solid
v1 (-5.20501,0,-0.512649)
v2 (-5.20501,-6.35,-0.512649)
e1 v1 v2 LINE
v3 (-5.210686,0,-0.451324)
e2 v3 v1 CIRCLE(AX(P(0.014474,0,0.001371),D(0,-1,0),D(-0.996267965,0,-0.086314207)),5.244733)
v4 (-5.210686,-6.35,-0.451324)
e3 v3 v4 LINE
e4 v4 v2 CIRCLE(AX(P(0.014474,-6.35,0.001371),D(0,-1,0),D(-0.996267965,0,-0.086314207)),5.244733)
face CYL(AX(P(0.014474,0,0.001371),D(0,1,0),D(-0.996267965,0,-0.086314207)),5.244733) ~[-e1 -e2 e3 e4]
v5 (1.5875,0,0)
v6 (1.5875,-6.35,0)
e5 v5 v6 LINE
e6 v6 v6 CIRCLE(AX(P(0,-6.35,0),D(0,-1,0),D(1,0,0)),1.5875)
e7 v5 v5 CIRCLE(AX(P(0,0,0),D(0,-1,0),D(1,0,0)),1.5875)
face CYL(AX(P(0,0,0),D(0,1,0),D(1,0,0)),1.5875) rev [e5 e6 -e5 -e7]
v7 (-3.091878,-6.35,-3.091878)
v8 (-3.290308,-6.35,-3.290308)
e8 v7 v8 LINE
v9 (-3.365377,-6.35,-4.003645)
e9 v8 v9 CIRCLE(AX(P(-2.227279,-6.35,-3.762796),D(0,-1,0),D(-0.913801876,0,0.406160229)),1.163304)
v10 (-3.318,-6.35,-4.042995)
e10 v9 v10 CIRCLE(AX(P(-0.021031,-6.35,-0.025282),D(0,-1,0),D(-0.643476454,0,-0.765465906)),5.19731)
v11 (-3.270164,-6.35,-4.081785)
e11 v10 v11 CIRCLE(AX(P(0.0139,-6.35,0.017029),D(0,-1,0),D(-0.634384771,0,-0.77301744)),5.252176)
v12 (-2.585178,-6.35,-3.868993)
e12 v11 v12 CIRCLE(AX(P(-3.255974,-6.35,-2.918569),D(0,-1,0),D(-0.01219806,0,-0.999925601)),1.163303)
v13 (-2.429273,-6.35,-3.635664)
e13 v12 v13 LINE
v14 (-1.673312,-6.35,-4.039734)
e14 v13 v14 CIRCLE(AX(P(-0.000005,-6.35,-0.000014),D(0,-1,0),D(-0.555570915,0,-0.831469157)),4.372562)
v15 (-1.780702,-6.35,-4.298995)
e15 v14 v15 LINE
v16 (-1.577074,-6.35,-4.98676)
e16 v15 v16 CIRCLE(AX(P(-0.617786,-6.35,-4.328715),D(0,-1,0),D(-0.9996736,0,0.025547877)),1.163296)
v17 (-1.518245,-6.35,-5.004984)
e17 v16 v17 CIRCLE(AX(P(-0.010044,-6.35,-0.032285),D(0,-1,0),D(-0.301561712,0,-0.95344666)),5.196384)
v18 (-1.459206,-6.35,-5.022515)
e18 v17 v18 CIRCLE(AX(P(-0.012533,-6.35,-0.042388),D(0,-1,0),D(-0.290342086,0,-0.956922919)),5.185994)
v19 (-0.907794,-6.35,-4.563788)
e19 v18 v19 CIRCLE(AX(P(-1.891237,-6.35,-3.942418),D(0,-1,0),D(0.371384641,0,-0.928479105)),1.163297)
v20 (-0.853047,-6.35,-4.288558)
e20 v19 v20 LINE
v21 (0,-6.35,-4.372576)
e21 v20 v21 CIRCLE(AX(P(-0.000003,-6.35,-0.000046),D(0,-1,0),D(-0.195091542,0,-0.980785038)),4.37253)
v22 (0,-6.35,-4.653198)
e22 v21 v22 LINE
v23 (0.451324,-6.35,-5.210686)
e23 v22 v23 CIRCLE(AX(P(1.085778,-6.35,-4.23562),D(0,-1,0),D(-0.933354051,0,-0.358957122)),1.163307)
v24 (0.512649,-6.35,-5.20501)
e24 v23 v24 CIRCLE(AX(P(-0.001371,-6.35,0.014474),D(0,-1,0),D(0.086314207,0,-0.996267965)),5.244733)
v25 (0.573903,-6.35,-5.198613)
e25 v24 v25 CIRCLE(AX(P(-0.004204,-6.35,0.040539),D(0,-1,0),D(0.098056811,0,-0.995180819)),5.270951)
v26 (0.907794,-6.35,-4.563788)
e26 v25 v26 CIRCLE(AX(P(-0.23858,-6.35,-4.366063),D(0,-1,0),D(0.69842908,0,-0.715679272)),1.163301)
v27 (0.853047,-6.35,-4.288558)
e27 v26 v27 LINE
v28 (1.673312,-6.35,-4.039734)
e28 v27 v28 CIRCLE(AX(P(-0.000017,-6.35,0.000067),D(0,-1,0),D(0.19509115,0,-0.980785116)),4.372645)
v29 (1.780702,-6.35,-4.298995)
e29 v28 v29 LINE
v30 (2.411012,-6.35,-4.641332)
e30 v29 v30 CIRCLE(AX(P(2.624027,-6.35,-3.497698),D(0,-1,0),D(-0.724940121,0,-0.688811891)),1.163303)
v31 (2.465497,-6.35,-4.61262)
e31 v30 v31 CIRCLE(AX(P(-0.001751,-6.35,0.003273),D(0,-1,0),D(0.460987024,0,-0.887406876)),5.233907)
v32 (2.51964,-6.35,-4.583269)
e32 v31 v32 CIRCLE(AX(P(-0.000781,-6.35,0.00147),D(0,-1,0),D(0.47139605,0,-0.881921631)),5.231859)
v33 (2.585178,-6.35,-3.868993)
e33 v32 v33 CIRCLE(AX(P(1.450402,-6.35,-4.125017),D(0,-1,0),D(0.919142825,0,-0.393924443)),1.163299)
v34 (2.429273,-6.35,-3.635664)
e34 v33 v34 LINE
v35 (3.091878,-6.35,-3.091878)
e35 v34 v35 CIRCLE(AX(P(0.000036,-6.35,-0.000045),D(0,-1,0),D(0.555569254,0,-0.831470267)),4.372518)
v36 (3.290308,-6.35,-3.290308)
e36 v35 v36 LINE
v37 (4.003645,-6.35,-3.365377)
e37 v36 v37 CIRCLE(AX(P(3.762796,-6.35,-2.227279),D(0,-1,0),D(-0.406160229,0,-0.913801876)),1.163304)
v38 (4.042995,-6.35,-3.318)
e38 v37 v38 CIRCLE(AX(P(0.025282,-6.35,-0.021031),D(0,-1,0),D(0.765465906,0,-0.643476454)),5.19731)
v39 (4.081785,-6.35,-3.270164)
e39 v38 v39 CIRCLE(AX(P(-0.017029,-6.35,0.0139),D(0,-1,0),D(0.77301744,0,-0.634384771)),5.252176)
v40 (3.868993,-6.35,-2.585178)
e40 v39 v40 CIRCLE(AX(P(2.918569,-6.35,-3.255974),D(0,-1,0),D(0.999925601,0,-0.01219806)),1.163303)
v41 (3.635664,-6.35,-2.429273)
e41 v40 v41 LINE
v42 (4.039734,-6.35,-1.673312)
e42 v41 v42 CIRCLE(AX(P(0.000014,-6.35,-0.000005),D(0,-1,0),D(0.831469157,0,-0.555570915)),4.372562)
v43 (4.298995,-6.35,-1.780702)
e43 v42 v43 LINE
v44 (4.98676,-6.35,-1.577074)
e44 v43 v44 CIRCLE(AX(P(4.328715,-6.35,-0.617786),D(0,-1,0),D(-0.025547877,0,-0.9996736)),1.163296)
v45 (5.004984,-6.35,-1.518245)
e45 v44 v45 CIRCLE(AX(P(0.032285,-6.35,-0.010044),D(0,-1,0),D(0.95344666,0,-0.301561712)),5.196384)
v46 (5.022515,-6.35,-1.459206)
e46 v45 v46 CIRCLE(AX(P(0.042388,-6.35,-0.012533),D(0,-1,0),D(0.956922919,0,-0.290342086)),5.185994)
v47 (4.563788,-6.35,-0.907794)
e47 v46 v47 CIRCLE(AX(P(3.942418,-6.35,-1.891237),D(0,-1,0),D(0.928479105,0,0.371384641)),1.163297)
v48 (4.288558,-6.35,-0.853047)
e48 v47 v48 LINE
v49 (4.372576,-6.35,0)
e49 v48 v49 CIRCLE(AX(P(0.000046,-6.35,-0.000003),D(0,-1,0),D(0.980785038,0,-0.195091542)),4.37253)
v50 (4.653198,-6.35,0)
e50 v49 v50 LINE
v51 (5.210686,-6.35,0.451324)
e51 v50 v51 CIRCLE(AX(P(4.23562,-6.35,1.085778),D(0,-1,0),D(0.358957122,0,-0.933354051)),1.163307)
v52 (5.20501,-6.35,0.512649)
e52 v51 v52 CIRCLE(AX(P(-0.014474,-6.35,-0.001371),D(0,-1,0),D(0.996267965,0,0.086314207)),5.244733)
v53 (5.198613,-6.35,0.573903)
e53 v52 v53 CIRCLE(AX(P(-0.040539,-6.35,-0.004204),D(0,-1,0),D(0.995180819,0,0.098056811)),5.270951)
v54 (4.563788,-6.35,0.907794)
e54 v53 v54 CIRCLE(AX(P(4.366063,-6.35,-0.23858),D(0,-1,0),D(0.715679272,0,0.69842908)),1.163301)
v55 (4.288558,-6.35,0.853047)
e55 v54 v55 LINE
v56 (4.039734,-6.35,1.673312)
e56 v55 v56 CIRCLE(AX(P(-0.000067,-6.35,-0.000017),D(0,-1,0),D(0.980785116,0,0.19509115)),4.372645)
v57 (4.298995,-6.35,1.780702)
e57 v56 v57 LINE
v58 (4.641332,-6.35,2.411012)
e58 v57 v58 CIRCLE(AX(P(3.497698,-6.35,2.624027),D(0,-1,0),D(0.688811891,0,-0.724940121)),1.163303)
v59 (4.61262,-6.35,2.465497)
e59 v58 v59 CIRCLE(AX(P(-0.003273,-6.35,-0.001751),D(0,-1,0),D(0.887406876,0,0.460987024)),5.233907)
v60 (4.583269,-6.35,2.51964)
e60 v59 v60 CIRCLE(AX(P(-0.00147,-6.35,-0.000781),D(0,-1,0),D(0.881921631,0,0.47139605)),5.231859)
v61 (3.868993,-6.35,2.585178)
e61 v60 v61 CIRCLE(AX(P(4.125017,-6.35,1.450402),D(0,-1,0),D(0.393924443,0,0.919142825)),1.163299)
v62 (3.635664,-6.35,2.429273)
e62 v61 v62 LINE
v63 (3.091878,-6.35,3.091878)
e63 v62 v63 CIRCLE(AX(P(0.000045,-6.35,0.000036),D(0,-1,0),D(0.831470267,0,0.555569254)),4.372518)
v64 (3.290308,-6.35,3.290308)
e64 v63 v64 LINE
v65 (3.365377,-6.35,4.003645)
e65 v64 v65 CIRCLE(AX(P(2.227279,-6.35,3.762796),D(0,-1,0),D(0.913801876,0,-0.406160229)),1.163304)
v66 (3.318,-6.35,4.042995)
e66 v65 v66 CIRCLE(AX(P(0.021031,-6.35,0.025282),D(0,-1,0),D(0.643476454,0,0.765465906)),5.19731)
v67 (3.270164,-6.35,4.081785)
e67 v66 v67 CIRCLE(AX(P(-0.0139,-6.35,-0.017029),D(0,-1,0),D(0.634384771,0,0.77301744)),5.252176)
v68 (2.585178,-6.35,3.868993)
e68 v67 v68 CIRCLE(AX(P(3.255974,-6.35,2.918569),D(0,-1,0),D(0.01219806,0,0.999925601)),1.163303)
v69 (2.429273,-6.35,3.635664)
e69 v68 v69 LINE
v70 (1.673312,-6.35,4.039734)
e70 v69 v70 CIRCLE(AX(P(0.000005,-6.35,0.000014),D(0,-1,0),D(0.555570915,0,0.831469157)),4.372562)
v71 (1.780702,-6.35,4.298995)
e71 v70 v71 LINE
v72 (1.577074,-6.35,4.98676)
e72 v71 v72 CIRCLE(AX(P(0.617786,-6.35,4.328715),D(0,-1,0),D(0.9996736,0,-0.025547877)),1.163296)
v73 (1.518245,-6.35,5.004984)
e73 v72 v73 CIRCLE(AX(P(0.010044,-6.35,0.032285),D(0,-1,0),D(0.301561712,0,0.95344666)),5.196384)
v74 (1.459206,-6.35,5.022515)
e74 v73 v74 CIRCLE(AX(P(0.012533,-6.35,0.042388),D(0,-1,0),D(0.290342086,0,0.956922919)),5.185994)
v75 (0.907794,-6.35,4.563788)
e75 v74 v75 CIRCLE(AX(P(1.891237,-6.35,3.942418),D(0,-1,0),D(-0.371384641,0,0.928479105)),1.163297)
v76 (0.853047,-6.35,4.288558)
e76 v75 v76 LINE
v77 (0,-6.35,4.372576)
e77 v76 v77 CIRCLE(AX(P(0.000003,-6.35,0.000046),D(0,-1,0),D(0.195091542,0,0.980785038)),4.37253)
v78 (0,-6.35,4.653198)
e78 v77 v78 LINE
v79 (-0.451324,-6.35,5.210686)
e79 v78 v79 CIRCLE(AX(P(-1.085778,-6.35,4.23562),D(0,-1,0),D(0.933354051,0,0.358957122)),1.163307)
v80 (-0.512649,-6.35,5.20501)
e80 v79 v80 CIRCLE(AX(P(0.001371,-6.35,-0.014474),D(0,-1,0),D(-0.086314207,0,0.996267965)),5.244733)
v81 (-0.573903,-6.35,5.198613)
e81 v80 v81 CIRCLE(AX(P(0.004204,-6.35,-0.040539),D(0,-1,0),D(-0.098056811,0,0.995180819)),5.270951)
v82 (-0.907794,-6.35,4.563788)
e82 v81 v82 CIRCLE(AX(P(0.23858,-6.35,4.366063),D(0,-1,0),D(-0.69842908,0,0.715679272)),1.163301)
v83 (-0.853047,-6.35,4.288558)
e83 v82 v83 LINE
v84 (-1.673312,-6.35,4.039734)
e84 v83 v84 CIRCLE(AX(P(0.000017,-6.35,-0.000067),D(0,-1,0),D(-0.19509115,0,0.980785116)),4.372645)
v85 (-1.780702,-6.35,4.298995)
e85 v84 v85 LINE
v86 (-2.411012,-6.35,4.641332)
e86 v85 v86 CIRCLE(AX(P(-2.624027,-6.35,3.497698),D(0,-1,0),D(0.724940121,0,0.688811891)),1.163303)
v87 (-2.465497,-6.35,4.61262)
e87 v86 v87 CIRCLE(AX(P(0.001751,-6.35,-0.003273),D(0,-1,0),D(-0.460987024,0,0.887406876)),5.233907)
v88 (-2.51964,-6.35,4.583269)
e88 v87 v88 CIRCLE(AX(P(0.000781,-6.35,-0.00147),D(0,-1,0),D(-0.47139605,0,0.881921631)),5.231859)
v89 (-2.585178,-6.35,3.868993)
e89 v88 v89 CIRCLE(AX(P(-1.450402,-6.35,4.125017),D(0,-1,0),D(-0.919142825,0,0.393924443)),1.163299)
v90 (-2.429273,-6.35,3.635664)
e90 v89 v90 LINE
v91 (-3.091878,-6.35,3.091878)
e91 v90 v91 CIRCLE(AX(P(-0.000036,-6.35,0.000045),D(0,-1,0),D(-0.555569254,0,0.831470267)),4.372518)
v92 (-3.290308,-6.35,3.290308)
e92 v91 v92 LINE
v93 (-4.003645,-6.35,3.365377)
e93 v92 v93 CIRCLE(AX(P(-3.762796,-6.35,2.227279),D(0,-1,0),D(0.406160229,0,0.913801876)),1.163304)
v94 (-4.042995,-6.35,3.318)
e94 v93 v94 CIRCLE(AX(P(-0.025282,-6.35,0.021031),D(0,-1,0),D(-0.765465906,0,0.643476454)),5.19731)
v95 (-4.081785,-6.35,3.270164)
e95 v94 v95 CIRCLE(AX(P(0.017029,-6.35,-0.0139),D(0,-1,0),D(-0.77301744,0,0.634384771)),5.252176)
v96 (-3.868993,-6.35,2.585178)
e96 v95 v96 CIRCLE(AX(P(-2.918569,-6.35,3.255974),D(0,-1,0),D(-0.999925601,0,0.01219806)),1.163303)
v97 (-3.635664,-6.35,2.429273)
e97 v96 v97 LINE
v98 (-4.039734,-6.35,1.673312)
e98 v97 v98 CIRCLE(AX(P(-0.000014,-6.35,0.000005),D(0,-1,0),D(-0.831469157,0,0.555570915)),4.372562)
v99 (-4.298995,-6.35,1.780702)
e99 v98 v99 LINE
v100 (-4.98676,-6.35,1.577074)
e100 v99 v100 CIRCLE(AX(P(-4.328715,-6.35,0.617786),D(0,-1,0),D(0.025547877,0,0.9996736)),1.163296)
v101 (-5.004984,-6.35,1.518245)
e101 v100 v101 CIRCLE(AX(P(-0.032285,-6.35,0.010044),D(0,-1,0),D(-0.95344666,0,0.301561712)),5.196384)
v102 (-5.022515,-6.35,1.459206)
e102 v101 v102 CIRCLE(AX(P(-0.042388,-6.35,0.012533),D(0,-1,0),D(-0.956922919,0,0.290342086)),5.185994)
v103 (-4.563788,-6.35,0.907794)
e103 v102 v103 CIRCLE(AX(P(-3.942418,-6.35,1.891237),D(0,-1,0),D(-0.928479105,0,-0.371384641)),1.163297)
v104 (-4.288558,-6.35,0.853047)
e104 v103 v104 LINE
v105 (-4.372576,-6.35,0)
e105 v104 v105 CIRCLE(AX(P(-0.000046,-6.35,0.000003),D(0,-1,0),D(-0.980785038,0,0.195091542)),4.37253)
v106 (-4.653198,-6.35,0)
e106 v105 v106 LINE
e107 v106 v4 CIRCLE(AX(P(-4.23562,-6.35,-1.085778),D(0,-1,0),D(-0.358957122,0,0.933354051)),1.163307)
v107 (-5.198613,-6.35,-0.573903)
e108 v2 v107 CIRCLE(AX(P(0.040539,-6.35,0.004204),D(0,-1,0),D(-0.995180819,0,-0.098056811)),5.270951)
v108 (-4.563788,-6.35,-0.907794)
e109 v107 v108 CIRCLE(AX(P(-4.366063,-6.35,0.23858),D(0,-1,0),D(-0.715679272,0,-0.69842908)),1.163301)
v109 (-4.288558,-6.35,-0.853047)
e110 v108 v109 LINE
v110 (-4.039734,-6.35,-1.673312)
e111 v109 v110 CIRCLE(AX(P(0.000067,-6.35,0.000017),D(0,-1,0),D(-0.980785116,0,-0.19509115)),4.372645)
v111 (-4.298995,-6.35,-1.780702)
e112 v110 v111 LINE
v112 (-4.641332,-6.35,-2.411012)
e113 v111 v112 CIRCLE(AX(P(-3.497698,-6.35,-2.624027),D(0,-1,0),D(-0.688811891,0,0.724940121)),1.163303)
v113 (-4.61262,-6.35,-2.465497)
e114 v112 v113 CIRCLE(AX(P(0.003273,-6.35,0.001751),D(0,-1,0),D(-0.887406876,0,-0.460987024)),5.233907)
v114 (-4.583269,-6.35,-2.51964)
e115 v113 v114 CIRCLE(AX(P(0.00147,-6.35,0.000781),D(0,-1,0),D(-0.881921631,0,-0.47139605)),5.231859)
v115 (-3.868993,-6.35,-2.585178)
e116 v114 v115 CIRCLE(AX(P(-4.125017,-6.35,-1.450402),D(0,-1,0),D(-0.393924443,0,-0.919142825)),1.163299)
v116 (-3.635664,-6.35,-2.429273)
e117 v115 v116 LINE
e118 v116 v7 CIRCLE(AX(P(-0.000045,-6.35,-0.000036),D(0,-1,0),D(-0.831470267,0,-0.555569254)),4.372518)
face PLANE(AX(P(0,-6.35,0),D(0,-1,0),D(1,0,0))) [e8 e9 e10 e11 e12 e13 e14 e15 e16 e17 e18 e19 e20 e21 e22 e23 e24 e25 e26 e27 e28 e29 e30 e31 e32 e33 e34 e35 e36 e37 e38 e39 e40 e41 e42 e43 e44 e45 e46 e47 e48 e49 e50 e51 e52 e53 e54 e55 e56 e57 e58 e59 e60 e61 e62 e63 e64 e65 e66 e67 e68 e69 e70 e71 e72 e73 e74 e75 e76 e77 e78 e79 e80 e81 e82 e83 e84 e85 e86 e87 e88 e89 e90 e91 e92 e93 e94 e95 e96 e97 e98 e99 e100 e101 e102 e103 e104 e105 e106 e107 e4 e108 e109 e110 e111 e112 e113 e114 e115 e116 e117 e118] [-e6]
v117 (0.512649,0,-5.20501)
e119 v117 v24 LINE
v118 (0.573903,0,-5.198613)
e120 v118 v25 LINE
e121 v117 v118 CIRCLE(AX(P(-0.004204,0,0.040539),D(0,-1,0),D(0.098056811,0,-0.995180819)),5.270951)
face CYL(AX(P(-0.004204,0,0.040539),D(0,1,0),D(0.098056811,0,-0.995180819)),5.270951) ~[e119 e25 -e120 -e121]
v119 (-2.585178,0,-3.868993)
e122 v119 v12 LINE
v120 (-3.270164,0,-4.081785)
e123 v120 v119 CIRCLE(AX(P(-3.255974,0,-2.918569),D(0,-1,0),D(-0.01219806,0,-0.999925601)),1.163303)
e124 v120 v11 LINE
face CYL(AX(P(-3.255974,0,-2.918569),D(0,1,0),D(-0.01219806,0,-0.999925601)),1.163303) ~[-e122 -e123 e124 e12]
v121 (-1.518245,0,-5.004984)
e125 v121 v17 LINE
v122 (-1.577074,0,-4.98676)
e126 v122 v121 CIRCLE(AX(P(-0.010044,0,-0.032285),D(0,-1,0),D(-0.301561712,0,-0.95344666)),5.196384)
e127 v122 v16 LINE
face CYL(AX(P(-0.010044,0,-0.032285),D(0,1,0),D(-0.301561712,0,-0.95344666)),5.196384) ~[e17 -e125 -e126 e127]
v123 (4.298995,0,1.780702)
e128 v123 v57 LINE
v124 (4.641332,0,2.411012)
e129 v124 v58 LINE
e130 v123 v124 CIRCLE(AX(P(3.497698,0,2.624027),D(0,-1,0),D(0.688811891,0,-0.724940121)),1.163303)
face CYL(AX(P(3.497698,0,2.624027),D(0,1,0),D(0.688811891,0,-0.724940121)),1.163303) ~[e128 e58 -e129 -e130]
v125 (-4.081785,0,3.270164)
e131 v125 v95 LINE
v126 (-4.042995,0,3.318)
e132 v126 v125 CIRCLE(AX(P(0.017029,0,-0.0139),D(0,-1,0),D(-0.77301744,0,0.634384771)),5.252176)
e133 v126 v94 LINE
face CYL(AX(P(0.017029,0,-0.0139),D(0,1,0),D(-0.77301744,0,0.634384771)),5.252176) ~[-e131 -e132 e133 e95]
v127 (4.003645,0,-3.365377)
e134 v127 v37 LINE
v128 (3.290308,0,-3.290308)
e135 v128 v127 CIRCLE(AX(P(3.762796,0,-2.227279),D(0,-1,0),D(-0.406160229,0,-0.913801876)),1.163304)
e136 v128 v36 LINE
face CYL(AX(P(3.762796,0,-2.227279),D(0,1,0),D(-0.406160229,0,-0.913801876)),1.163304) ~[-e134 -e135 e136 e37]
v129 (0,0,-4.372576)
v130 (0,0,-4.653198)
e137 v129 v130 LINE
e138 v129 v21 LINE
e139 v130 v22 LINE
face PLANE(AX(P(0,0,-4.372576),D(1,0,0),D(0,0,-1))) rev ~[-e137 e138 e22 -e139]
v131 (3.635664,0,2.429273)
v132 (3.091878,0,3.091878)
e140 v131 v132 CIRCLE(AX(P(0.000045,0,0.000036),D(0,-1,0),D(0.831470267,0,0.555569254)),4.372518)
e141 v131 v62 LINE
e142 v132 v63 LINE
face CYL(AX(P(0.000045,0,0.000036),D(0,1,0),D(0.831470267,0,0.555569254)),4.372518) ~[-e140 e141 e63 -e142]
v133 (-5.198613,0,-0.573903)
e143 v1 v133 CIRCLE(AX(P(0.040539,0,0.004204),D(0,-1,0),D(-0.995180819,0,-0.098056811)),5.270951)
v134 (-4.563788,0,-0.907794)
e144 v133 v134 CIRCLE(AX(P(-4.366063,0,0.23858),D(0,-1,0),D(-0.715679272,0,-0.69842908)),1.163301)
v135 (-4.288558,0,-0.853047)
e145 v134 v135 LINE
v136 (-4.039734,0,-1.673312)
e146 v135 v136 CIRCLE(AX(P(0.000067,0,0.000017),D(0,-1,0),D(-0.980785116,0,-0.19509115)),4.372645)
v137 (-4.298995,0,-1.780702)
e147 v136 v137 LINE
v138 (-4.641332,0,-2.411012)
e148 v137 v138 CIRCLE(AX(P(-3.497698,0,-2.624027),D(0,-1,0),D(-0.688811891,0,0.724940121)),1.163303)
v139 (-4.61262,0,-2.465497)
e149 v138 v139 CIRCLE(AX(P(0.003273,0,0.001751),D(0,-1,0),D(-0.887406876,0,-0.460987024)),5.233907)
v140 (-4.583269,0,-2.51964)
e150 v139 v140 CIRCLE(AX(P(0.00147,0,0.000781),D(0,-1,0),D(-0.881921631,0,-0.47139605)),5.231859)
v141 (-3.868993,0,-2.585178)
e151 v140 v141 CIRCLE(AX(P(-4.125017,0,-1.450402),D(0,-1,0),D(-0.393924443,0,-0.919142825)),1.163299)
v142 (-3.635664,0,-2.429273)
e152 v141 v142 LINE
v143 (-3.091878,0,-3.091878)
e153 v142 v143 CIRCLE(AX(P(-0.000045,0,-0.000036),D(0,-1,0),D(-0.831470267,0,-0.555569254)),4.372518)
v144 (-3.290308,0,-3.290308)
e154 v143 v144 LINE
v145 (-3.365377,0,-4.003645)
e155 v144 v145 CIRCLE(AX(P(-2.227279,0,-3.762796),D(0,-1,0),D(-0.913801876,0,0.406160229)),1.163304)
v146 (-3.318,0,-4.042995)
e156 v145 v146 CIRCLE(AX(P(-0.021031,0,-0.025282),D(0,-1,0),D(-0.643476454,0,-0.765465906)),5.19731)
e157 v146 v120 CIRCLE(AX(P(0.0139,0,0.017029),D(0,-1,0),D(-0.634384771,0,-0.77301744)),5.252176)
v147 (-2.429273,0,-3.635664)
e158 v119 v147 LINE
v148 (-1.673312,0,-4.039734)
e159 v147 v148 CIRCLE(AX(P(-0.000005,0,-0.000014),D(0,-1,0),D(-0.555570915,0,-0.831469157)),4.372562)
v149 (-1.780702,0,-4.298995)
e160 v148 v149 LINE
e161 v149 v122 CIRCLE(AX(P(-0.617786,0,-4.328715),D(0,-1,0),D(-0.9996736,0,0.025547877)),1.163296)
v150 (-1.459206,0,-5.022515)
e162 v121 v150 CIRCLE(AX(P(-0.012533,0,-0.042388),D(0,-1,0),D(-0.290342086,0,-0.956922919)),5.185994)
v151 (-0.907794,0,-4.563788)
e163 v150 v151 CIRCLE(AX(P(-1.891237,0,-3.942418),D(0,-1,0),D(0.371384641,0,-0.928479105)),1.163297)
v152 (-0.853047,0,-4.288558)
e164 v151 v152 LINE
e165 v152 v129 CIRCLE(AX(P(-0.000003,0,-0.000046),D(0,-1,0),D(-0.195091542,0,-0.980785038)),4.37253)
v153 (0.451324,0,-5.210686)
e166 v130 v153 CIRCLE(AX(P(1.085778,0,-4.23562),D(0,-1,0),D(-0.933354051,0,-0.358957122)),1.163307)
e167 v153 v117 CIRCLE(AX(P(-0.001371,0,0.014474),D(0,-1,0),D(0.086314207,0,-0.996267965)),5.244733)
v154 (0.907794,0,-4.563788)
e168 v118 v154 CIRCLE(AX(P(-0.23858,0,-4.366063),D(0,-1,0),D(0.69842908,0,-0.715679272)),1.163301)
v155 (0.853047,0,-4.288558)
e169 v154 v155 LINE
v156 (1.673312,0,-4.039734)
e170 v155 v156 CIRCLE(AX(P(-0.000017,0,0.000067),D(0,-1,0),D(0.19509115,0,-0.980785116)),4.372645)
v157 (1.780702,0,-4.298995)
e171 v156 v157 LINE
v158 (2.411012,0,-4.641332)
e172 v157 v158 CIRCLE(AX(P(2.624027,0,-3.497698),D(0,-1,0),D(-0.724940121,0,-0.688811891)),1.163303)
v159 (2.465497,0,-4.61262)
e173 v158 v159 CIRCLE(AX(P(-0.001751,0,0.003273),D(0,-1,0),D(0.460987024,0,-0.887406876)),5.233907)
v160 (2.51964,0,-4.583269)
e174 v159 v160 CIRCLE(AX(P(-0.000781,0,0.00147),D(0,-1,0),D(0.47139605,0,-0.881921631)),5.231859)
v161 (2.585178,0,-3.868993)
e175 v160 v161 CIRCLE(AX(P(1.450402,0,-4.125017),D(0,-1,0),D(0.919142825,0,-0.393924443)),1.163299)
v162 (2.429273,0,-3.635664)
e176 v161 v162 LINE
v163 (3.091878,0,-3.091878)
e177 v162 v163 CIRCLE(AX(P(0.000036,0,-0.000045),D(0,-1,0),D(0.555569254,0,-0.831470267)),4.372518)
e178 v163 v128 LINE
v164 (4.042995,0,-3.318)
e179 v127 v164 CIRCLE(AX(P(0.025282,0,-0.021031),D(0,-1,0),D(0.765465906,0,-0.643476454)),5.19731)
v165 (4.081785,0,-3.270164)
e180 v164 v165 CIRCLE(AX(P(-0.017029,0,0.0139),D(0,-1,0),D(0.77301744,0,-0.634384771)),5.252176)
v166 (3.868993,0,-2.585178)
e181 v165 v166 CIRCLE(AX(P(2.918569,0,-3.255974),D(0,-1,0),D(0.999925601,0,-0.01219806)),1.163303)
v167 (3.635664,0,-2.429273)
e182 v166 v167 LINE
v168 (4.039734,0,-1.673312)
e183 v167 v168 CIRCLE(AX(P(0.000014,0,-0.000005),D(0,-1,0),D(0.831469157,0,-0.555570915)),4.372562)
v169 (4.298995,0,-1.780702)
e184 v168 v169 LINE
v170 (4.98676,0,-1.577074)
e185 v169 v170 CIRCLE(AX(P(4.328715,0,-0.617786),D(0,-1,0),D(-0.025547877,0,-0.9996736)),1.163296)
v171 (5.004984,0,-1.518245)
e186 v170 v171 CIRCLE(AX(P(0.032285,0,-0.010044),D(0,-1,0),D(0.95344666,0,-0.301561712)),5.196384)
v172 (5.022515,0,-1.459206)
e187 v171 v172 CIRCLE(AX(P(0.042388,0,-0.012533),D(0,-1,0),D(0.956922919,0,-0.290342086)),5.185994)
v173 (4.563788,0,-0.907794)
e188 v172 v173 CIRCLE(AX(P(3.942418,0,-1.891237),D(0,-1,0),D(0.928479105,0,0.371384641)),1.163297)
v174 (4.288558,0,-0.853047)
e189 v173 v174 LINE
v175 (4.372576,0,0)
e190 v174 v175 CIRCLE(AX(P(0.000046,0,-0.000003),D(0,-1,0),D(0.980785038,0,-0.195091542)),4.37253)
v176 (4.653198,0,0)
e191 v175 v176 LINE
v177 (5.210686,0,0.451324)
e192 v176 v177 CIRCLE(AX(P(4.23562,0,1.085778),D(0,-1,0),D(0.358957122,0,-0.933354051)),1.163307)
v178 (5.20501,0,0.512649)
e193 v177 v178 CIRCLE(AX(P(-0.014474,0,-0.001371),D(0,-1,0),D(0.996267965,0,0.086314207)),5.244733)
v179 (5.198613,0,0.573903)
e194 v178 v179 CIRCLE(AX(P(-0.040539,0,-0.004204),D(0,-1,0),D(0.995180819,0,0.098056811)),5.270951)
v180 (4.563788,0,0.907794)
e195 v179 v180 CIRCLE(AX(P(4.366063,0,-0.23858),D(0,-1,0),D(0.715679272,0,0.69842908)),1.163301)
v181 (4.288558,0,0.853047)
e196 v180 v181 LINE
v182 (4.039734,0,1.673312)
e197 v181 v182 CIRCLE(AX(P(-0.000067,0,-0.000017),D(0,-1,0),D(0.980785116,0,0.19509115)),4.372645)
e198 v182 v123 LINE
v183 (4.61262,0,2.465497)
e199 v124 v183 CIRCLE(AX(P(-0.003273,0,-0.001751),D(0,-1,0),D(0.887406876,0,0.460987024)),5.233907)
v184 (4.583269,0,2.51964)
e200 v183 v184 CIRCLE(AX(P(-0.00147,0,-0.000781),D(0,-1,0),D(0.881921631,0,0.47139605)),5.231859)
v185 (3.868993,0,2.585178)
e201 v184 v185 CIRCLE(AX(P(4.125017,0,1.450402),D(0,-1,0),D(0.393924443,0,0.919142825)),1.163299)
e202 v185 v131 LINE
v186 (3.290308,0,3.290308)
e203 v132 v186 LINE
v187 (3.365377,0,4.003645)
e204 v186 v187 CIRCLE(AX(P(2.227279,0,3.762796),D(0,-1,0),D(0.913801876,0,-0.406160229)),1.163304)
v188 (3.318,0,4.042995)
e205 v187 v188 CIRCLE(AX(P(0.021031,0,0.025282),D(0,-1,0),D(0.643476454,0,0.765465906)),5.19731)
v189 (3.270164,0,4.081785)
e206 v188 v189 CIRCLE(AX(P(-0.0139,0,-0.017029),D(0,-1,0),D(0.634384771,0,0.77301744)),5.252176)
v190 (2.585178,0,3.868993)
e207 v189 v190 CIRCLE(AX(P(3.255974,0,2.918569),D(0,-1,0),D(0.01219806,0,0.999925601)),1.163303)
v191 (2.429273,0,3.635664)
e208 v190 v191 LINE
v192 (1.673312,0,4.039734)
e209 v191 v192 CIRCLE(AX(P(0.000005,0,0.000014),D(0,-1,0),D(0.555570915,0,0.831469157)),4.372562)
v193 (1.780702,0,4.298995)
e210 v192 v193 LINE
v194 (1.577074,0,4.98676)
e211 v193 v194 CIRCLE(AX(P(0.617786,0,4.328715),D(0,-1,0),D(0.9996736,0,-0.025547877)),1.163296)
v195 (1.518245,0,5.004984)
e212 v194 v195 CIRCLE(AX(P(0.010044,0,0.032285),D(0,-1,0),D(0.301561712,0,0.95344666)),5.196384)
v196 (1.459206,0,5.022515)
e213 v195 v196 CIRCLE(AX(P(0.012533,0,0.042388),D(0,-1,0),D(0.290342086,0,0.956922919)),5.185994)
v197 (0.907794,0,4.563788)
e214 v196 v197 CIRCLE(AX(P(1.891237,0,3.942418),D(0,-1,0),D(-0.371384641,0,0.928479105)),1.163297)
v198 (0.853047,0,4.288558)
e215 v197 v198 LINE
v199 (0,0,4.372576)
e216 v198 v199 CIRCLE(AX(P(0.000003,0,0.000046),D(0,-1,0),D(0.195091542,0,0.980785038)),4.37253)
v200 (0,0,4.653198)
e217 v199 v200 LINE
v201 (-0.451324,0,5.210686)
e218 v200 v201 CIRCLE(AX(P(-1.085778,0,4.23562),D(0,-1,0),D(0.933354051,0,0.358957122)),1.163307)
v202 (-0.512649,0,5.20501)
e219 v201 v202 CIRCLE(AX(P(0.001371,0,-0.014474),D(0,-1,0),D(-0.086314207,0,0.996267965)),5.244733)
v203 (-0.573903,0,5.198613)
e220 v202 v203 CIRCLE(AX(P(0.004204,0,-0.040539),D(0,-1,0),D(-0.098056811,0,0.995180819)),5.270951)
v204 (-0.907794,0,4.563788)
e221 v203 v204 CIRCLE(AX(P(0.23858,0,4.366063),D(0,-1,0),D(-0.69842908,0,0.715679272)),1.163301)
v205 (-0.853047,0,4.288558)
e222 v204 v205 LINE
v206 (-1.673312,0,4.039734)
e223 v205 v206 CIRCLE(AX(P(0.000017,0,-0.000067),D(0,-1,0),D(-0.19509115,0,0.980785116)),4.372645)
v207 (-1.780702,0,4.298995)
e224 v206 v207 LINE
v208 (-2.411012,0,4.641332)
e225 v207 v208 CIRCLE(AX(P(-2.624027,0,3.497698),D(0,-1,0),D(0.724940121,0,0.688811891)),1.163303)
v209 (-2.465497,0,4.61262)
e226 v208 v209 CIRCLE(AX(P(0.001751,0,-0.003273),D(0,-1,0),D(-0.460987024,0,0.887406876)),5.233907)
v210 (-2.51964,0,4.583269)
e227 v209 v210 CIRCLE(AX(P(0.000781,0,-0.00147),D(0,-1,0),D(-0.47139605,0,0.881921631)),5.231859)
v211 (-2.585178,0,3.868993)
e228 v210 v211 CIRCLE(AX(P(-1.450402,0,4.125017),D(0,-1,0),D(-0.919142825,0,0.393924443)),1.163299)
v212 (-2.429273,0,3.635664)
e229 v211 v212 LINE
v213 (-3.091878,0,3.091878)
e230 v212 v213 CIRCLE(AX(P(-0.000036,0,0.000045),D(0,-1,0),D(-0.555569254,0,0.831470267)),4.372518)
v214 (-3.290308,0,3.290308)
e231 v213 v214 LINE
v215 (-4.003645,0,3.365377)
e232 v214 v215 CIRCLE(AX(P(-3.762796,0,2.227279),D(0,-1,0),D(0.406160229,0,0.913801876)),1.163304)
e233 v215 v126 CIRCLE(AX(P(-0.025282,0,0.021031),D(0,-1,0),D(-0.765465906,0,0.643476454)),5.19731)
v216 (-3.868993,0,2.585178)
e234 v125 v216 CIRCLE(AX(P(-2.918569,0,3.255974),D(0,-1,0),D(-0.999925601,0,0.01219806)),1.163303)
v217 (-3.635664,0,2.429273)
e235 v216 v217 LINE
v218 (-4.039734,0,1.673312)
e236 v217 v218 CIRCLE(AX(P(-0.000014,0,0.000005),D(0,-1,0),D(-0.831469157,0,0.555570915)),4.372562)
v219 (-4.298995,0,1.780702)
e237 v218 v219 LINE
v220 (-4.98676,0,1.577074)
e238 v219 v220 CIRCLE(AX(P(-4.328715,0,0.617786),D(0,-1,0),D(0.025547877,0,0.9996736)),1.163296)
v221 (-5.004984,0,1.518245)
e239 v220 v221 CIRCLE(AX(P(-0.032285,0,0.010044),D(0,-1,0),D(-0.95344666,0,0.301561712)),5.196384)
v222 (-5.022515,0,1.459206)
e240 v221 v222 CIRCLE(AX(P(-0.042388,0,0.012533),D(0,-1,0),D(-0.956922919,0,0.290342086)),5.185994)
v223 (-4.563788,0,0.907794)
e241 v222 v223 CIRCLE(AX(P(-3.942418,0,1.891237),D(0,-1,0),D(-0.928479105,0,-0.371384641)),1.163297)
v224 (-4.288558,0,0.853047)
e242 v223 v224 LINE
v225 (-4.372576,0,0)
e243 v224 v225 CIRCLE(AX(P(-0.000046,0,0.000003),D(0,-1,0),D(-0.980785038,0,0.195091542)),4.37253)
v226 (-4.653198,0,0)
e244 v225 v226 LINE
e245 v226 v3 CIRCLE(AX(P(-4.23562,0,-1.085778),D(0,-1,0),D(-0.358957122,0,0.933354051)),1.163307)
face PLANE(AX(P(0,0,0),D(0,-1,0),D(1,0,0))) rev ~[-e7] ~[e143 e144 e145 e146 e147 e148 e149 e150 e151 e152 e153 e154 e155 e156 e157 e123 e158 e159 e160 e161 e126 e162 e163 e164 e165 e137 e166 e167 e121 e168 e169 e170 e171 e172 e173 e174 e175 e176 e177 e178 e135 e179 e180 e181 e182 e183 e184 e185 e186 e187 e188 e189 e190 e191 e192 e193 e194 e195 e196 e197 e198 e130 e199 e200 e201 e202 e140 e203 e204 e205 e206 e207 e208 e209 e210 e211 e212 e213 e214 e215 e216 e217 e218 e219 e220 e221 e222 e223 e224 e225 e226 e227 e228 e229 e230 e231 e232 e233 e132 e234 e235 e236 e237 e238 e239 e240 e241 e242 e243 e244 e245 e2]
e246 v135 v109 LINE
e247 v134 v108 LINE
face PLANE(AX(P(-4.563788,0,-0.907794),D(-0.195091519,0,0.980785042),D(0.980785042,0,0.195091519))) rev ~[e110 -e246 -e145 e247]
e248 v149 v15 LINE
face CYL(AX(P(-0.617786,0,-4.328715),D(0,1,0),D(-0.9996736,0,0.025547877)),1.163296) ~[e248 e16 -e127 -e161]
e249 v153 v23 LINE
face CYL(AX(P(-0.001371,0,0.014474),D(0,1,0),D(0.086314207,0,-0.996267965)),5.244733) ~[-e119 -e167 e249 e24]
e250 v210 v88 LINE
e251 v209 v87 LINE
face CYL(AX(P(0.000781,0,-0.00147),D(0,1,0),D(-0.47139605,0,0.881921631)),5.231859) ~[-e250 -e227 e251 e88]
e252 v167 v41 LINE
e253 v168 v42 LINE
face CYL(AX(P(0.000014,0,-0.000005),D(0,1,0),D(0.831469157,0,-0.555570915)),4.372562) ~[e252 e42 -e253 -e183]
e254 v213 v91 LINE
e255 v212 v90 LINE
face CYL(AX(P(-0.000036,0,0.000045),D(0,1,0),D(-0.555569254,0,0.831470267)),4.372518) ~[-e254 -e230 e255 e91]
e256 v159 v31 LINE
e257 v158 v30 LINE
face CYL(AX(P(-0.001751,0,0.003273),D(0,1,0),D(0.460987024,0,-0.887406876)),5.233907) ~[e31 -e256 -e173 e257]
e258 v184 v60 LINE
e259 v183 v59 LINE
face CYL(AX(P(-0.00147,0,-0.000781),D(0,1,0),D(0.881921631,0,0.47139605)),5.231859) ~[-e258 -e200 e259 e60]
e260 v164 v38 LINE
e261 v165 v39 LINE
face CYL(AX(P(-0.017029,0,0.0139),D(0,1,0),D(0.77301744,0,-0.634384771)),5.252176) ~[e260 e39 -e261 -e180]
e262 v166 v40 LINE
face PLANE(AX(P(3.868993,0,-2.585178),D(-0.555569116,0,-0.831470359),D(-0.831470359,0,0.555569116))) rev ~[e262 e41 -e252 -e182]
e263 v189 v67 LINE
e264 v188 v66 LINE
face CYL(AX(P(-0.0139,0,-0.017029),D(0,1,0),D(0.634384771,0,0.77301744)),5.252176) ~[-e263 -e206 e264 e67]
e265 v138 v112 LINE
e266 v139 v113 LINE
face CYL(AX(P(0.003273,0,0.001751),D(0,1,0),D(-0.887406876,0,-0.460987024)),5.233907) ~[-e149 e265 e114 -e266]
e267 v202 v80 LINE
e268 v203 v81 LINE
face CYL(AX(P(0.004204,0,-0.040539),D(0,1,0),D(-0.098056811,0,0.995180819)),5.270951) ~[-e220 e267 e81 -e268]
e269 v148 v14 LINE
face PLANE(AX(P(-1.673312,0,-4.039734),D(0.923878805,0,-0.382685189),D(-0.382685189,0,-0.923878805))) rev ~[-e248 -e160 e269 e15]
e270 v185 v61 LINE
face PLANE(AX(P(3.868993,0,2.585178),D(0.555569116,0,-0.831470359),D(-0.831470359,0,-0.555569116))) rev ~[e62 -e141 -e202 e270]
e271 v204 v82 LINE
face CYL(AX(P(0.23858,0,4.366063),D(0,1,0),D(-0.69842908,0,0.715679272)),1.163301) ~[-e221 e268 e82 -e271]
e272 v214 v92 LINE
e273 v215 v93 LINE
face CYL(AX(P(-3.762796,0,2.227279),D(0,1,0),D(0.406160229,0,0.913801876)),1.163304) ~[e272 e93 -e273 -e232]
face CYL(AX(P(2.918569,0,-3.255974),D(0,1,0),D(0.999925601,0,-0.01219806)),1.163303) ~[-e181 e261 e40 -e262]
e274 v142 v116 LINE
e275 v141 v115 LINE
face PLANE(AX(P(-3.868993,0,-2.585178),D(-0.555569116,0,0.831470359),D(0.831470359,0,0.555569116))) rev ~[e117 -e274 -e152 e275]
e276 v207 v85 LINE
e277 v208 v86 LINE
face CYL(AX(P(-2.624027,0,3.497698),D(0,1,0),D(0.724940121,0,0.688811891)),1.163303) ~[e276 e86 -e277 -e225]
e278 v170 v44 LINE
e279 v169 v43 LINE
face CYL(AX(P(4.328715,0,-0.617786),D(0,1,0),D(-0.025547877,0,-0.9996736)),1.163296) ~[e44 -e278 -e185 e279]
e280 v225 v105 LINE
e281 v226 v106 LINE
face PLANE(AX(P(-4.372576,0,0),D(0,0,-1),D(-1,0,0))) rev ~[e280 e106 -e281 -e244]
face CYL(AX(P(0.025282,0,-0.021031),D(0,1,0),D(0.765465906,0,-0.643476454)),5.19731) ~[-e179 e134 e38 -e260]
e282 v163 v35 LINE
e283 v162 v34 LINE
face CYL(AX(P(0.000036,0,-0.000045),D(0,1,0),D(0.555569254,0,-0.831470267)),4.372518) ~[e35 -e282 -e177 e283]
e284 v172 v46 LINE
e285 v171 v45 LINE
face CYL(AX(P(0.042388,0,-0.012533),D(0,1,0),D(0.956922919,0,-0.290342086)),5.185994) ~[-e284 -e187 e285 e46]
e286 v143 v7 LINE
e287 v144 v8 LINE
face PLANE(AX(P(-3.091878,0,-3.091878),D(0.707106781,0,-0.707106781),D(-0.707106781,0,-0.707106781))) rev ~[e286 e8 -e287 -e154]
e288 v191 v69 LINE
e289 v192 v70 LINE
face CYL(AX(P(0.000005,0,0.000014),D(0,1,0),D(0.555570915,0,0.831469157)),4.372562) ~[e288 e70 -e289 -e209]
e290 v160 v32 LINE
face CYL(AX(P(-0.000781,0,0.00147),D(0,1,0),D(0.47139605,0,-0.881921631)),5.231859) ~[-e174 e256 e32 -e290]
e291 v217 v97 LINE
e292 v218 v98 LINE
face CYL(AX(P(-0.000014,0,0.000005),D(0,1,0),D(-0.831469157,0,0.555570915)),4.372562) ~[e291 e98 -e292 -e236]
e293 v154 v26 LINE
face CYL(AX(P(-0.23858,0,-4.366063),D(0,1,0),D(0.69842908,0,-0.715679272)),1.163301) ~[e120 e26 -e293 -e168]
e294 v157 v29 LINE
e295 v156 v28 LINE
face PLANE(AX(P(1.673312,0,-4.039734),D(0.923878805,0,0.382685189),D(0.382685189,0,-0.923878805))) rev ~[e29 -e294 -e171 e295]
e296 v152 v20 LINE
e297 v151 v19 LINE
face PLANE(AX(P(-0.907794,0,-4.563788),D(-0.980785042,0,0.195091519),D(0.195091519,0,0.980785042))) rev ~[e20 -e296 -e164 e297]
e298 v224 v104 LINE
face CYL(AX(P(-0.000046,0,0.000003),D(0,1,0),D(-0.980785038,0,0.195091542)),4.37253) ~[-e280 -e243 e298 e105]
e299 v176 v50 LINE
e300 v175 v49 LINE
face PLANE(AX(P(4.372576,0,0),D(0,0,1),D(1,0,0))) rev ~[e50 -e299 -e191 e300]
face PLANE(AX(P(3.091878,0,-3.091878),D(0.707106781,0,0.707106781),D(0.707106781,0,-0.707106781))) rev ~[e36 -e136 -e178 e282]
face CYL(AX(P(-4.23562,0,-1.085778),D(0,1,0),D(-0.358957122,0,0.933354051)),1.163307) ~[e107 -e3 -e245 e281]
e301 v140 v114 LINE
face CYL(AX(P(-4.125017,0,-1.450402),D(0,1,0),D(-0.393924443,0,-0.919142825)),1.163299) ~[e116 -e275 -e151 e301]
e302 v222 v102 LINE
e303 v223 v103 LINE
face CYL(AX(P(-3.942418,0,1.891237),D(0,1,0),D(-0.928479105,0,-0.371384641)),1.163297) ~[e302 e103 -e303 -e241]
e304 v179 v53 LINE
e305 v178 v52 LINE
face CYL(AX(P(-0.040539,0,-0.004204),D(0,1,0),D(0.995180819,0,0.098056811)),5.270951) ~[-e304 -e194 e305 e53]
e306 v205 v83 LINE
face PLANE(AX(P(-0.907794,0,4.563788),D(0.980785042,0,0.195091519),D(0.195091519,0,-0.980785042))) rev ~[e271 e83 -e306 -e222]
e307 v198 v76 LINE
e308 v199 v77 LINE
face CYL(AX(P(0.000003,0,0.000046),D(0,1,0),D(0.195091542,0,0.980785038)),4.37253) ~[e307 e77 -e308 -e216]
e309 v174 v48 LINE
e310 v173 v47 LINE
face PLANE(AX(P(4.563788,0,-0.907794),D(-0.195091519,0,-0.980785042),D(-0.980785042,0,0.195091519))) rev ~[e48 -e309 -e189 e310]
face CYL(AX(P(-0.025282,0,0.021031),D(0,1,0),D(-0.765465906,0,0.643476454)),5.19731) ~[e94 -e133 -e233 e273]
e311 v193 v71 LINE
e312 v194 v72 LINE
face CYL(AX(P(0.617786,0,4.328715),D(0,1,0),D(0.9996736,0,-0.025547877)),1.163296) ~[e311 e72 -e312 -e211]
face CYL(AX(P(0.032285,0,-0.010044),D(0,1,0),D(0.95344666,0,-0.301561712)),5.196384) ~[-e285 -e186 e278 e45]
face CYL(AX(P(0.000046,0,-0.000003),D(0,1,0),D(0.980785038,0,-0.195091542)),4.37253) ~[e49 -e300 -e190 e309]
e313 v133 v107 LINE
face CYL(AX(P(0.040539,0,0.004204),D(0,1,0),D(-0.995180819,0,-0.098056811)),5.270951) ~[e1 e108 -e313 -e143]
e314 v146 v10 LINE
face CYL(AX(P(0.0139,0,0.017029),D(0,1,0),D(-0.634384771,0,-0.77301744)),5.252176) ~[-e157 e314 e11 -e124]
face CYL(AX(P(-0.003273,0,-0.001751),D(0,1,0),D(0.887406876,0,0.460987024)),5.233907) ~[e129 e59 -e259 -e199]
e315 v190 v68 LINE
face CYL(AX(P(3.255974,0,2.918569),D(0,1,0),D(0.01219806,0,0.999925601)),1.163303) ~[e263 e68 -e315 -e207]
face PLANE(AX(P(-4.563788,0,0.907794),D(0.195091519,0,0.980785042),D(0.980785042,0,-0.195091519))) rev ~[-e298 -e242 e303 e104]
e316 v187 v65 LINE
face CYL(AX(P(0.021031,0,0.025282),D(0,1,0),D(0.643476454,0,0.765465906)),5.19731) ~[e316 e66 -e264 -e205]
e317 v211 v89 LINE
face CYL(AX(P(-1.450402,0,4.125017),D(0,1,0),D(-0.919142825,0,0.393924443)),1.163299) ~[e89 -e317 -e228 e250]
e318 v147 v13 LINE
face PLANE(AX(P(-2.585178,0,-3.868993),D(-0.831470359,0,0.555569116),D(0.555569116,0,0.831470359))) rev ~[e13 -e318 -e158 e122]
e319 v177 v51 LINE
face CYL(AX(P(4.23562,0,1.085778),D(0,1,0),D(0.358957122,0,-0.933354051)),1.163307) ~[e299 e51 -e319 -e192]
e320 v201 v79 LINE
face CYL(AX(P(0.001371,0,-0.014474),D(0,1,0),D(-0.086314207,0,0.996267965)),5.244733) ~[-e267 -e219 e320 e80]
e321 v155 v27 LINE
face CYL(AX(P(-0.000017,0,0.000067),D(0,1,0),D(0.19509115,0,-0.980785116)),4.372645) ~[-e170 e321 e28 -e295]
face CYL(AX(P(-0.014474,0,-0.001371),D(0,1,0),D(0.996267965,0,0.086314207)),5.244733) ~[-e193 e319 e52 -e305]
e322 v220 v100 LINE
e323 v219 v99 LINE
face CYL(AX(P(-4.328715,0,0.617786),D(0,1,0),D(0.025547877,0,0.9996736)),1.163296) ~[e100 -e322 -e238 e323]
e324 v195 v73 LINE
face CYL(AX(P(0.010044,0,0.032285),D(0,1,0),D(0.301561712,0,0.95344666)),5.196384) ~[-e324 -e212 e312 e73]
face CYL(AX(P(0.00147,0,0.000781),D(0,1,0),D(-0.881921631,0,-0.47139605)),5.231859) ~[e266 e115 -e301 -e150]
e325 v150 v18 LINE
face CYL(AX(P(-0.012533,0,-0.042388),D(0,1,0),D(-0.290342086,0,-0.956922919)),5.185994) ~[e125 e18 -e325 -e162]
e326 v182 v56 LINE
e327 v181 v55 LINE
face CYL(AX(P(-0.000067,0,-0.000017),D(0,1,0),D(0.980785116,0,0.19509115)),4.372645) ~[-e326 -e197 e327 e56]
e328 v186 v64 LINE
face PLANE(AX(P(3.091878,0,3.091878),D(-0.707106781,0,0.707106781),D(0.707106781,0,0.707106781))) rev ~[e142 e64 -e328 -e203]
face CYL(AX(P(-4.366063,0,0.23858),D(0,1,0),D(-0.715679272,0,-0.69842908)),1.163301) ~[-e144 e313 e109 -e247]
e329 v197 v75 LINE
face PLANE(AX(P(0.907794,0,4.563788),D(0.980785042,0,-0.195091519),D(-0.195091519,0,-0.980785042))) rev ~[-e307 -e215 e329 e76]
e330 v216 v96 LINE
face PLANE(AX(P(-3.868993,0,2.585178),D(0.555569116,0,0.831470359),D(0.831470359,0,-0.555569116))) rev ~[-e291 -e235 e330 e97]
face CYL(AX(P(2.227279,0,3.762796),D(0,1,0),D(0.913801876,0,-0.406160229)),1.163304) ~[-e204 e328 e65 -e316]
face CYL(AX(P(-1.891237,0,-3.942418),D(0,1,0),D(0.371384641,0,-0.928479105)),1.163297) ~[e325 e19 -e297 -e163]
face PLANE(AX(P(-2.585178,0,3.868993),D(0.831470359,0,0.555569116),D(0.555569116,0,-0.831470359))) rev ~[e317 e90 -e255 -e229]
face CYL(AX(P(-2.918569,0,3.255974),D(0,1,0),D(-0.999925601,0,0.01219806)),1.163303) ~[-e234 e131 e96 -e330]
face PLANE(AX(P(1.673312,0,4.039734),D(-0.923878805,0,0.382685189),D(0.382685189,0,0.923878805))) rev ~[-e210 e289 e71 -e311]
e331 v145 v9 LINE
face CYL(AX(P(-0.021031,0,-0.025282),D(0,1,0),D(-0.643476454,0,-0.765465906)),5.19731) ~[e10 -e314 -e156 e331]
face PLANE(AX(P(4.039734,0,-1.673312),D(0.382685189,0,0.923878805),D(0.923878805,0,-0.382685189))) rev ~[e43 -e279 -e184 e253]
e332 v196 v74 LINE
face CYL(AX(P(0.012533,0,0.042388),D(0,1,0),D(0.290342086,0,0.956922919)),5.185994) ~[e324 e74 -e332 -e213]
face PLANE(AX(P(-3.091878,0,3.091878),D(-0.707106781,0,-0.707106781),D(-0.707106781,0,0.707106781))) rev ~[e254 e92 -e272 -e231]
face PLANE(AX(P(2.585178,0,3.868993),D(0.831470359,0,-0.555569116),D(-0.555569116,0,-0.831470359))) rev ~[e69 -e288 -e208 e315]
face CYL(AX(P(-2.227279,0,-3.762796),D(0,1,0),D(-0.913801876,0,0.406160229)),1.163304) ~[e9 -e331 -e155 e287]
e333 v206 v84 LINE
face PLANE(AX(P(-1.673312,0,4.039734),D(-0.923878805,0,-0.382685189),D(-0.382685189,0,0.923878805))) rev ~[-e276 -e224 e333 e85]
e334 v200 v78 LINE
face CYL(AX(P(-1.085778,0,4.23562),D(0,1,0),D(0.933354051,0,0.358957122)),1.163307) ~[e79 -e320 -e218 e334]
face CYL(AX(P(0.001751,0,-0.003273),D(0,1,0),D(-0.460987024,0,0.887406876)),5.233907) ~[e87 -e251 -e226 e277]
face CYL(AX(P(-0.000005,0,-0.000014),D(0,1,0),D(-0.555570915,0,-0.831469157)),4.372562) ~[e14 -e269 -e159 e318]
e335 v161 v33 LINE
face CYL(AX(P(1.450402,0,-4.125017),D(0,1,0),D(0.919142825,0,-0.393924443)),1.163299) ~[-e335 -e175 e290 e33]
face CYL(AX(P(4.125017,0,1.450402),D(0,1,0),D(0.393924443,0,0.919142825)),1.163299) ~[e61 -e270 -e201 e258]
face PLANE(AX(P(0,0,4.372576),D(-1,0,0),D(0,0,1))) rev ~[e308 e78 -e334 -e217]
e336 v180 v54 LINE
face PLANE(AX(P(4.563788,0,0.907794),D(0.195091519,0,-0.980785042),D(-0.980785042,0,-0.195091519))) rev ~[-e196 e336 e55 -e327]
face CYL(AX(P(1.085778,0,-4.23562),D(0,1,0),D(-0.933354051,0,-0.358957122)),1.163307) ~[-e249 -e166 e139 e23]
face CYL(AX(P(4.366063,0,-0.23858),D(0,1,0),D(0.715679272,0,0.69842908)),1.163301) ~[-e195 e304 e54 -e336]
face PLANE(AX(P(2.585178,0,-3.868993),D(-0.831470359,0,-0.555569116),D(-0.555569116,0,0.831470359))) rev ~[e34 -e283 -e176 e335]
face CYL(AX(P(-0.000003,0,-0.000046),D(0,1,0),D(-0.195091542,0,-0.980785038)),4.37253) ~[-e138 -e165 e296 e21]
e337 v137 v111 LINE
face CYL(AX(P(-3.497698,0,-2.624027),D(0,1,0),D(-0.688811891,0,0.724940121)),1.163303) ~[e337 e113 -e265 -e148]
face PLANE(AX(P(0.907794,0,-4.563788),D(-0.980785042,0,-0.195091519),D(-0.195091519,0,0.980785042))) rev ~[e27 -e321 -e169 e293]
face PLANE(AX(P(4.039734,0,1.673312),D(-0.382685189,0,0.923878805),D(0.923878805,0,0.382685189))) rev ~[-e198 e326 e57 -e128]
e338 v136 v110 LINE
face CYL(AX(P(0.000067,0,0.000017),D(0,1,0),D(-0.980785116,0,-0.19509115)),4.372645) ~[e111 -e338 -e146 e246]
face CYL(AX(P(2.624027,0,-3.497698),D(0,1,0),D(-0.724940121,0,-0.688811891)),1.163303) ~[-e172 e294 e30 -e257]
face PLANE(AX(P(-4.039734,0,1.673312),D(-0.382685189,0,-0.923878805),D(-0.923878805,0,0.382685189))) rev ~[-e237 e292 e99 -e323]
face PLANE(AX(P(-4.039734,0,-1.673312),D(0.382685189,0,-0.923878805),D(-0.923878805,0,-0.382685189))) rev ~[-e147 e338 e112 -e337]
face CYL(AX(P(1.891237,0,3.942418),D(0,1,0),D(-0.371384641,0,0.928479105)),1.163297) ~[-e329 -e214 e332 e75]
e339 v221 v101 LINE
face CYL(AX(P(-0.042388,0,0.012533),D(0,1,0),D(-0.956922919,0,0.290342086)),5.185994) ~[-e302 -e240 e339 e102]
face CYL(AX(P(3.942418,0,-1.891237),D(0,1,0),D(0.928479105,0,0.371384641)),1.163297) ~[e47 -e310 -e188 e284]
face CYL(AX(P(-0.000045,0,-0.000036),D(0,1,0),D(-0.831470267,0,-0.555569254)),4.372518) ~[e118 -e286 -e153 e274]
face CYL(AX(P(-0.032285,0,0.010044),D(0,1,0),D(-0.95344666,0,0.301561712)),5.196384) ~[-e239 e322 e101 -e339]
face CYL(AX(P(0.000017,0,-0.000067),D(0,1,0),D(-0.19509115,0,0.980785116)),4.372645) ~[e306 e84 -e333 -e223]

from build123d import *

# Parameters (mm, degrees)
F0_R     = 1.5875
F1_DEPTH = 6.35


with BuildPart() as f1:
    # F0 (on Front) → F1 (new body)
    with BuildSketch(Plane.XZ):
        with BuildLine():
            ThreePointArc((0, 4.653198), (-0.181622, 4.967595), (-0.451324, 5.210686))
            ThreePointArc((-0.451324, 5.210686), (-0.481995, 5.207938), (-0.512649, 5.20501))
            ThreePointArc((-0.512649, 5.20501), (-0.543285, 5.201901), (-0.573903, 5.198613))
            ThreePointArc((-0.573903, 5.198613), (-0.790998, 4.907577), (-0.907794, 4.563788))
            Line((-0.907794, 4.563788), (-0.853047, 4.288558))
            ThreePointArc((-0.853047, 4.288558), (-1.269292, 4.184294), (-1.673312, 4.039734))
            Line((-1.673312, 4.039734), (-1.780702, 4.298995))
            ThreePointArc((-1.780702, 4.298995), (-2.068813, 4.519956), (-2.411012, 4.641332))
            ThreePointArc((-2.411012, 4.641332), (-2.438297, 4.627056), (-2.465497, 4.61262))
            ThreePointArc((-2.465497, 4.61262), (-2.492612, 4.598024), (-2.51964, 4.583269))
            ThreePointArc((-2.51964, 4.583269), (-2.608835, 4.231308), (-2.585178, 3.868993))
            Line((-2.585178, 3.868993), (-2.429273, 3.635664))
            ThreePointArc((-2.429273, 3.635664), (-2.773933, 3.380047), (-3.091878, 3.091878))
            Line((-3.091878, 3.091878), (-3.290308, 3.290308))
            ThreePointArc((-3.290308, 3.290308), (-3.641046, 3.384194), (-4.003645, 3.365377))
            ThreePointArc((-4.003645, 3.365377), (-4.02339, 3.341747), (-4.042995, 3.318))
            ThreePointArc((-4.042995, 3.318), (-4.06246, 3.294139), (-4.081785, 3.270164))
            ThreePointArc((-4.081785, 3.270164), (-4.029501, 2.910861), (-3.868993, 2.585178))
            Line((-3.868993, 2.585178), (-3.635664, 2.429273))
            ThreePointArc((-3.635664, 2.429273), (-3.856268, 2.061218), (-4.039734, 1.673312))
            Line((-4.039734, 1.673312), (-4.298995, 1.780702))
            ThreePointArc((-4.298995, 1.780702), (-4.658963, 1.73322), (-4.98676, 1.577074))
            ThreePointArc((-4.98676, 1.577074), (-4.995959, 1.547687), (-5.004984, 1.518245))
            ThreePointArc((-5.004984, 1.518245), (-5.013837, 1.488752), (-5.022515, 1.459206))
            ThreePointArc((-5.022515, 1.459206), (-4.836712, 1.147262), (-4.563788, 0.907794))
            Line((-4.563788, 0.907794), (-4.288558, 0.853047))
            ThreePointArc((-4.288558, 0.853047), (-4.351521, 0.428587), (-4.372576, 0))
            Line((-4.372576, 0), (-4.653198, 0))
            ThreePointArc((-4.653198, 0), (-4.967595, -0.181622), (-5.210686, -0.451324))
            ThreePointArc((-5.210686, -0.451324), (-5.207938, -0.481995), (-5.20501, -0.512649))
            ThreePointArc((-5.20501, -0.512649), (-5.201901, -0.543285), (-5.198613, -0.573903))
            ThreePointArc((-5.198613, -0.573903), (-4.907577, -0.790998), (-4.563788, -0.907794))
            Line((-4.563788, -0.907794), (-4.288558, -0.853047))
            ThreePointArc((-4.288558, -0.853047), (-4.184294, -1.269292), (-4.039734, -1.673312))
            Line((-4.039734, -1.673312), (-4.298995, -1.780702))
            ThreePointArc((-4.298995, -1.780702), (-4.519956, -2.068813), (-4.641332, -2.411012))
            ThreePointArc((-4.641332, -2.411012), (-4.627056, -2.438297), (-4.61262, -2.465497))
            ThreePointArc((-4.61262, -2.465497), (-4.598024, -2.492612), (-4.583269, -2.51964))
            ThreePointArc((-4.583269, -2.51964), (-4.231308, -2.608835), (-3.868993, -2.585178))
            Line((-3.868993, -2.585178), (-3.635664, -2.429273))
            ThreePointArc((-3.635664, -2.429273), (-3.380047, -2.773933), (-3.091878, -3.091878))
            Line((-3.091878, -3.091878), (-3.290308, -3.290308))
            ThreePointArc((-3.290308, -3.290308), (-3.384194, -3.641046), (-3.365377, -4.003645))
            ThreePointArc((-3.365377, -4.003645), (-3.341747, -4.02339), (-3.318, -4.042995))
            ThreePointArc((-3.318, -4.042995), (-3.294139, -4.06246), (-3.270164, -4.081785))
            ThreePointArc((-3.270164, -4.081785), (-2.910861, -4.029501), (-2.585178, -3.868993))
            Line((-2.585178, -3.868993), (-2.429273, -3.635664))
            ThreePointArc((-2.429273, -3.635664), (-2.061218, -3.856268), (-1.673312, -4.039734))
            Line((-1.673312, -4.039734), (-1.780702, -4.298995))
            ThreePointArc((-1.780702, -4.298995), (-1.73322, -4.658963), (-1.577074, -4.98676))
            ThreePointArc((-1.577074, -4.98676), (-1.547687, -4.995959), (-1.518245, -5.004984))
            ThreePointArc((-1.518245, -5.004984), (-1.488752, -5.013837), (-1.459206, -5.022515))
            ThreePointArc((-1.459206, -5.022515), (-1.147262, -4.836712), (-0.907794, -4.563788))
            Line((-0.907794, -4.563788), (-0.853047, -4.288558))
            ThreePointArc((-0.853047, -4.288558), (-0.428587, -4.351521), (0, -4.372576))
            Line((0, -4.372576), (0, -4.653198))
            ThreePointArc((0, -4.653198), (0.181622, -4.967595), (0.451324, -5.210686))
            ThreePointArc((0.451324, -5.210686), (0.481995, -5.207938), (0.512649, -5.20501))
            ThreePointArc((0.512649, -5.20501), (0.543285, -5.201901), (0.573903, -5.198613))
            ThreePointArc((0.573903, -5.198613), (0.790998, -4.907577), (0.907794, -4.563788))
            Line((0.907794, -4.563788), (0.853047, -4.288558))
            ThreePointArc((0.853047, -4.288558), (1.269292, -4.184294), (1.673312, -4.039734))
            Line((1.673312, -4.039734), (1.780702, -4.298995))
            ThreePointArc((1.780702, -4.298995), (2.068813, -4.519956), (2.411012, -4.641332))
            ThreePointArc((2.411012, -4.641332), (2.438297, -4.627056), (2.465497, -4.61262))
            ThreePointArc((2.465497, -4.61262), (2.492612, -4.598024), (2.51964, -4.583269))
            ThreePointArc((2.51964, -4.583269), (2.608835, -4.231308), (2.585178, -3.868993))
            Line((2.585178, -3.868993), (2.429273, -3.635664))
            ThreePointArc((2.429273, -3.635664), (2.773933, -3.380047), (3.091878, -3.091878))
            Line((3.091878, -3.091878), (3.290308, -3.290308))
            ThreePointArc((3.290308, -3.290308), (3.641046, -3.384194), (4.003645, -3.365377))
            ThreePointArc((4.003645, -3.365377), (4.02339, -3.341747), (4.042995, -3.318))
            ThreePointArc((4.042995, -3.318), (4.06246, -3.294139), (4.081785, -3.270164))
            ThreePointArc((4.081785, -3.270164), (4.029501, -2.910861), (3.868993, -2.585178))
            Line((3.868993, -2.585178), (3.635664, -2.429273))
            ThreePointArc((3.635664, -2.429273), (3.856268, -2.061218), (4.039734, -1.673312))
            Line((4.039734, -1.673312), (4.298995, -1.780702))
            ThreePointArc((4.298995, -1.780702), (4.658963, -1.73322), (4.98676, -1.577074))
            ThreePointArc((4.98676, -1.577074), (4.995959, -1.547687), (5.004984, -1.518245))
            ThreePointArc((5.004984, -1.518245), (5.013837, -1.488752), (5.022515, -1.459206))
            ThreePointArc((5.022515, -1.459206), (4.836712, -1.147262), (4.563788, -0.907794))
            Line((4.563788, -0.907794), (4.288558, -0.853047))
            ThreePointArc((4.288558, -0.853047), (4.351521, -0.428587), (4.372576, 0))
            Line((4.372576, 0), (4.653198, 0))
            ThreePointArc((4.653198, 0), (4.967595, 0.181622), (5.210686, 0.451324))
            ThreePointArc((5.210686, 0.451324), (5.207938, 0.481995), (5.20501, 0.512649))
            ThreePointArc((5.20501, 0.512649), (5.201901, 0.543285), (5.198613, 0.573903))
            ThreePointArc((5.198613, 0.573903), (4.907577, 0.790998), (4.563788, 0.907794))
            Line((4.563788, 0.907794), (4.288558, 0.853047))
            ThreePointArc((4.288558, 0.853047), (4.184294, 1.269292), (4.039734, 1.673312))
            Line((4.039734, 1.673312), (4.298995, 1.780702))
            ThreePointArc((4.298995, 1.780702), (4.519956, 2.068813), (4.641332, 2.411012))
            ThreePointArc((4.641332, 2.411012), (4.627056, 2.438297), (4.61262, 2.465497))
            ThreePointArc((4.61262, 2.465497), (4.598024, 2.492612), (4.583269, 2.51964))
            ThreePointArc((4.583269, 2.51964), (4.231308, 2.608835), (3.868993, 2.585178))
            Line((3.868993, 2.585178), (3.635664, 2.429273))
            ThreePointArc((3.635664, 2.429273), (3.380047, 2.773933), (3.091878, 3.091878))
            Line((3.091878, 3.091878), (3.290308, 3.290308))
            ThreePointArc((3.290308, 3.290308), (3.384194, 3.641046), (3.365377, 4.003645))
            ThreePointArc((3.365377, 4.003645), (3.341747, 4.02339), (3.318, 4.042995))
            ThreePointArc((3.318, 4.042995), (3.294139, 4.06246), (3.270164, 4.081785))
            ThreePointArc((3.270164, 4.081785), (2.910861, 4.029501), (2.585178, 3.868993))
            Line((2.585178, 3.868993), (2.429273, 3.635664))
            ThreePointArc((2.429273, 3.635664), (2.061218, 3.856268), (1.673312, 4.039734))
            Line((1.673312, 4.039734), (1.780702, 4.298995))
            ThreePointArc((1.780702, 4.298995), (1.73322, 4.658963), (1.577074, 4.98676))
            ThreePointArc((1.577074, 4.98676), (1.547687, 4.995959), (1.518245, 5.004984))
            ThreePointArc((1.518245, 5.004984), (1.488752, 5.013837), (1.459206, 5.022515))
            ThreePointArc((1.459206, 5.022515), (1.147262, 4.836712), (0.907794, 4.563788))
            Line((0.907794, 4.563788), (0.853047, 4.288558))
            ThreePointArc((0.853047, 4.288558), (0.428587, 4.351521), (0, 4.372576))
            Line((0, 4.372576), (0, 4.653198))
        make_face()
        Circle(F0_R, mode=Mode.SUBTRACT)
    extrude(amount=F1_DEPTH)


solid = f1.part
